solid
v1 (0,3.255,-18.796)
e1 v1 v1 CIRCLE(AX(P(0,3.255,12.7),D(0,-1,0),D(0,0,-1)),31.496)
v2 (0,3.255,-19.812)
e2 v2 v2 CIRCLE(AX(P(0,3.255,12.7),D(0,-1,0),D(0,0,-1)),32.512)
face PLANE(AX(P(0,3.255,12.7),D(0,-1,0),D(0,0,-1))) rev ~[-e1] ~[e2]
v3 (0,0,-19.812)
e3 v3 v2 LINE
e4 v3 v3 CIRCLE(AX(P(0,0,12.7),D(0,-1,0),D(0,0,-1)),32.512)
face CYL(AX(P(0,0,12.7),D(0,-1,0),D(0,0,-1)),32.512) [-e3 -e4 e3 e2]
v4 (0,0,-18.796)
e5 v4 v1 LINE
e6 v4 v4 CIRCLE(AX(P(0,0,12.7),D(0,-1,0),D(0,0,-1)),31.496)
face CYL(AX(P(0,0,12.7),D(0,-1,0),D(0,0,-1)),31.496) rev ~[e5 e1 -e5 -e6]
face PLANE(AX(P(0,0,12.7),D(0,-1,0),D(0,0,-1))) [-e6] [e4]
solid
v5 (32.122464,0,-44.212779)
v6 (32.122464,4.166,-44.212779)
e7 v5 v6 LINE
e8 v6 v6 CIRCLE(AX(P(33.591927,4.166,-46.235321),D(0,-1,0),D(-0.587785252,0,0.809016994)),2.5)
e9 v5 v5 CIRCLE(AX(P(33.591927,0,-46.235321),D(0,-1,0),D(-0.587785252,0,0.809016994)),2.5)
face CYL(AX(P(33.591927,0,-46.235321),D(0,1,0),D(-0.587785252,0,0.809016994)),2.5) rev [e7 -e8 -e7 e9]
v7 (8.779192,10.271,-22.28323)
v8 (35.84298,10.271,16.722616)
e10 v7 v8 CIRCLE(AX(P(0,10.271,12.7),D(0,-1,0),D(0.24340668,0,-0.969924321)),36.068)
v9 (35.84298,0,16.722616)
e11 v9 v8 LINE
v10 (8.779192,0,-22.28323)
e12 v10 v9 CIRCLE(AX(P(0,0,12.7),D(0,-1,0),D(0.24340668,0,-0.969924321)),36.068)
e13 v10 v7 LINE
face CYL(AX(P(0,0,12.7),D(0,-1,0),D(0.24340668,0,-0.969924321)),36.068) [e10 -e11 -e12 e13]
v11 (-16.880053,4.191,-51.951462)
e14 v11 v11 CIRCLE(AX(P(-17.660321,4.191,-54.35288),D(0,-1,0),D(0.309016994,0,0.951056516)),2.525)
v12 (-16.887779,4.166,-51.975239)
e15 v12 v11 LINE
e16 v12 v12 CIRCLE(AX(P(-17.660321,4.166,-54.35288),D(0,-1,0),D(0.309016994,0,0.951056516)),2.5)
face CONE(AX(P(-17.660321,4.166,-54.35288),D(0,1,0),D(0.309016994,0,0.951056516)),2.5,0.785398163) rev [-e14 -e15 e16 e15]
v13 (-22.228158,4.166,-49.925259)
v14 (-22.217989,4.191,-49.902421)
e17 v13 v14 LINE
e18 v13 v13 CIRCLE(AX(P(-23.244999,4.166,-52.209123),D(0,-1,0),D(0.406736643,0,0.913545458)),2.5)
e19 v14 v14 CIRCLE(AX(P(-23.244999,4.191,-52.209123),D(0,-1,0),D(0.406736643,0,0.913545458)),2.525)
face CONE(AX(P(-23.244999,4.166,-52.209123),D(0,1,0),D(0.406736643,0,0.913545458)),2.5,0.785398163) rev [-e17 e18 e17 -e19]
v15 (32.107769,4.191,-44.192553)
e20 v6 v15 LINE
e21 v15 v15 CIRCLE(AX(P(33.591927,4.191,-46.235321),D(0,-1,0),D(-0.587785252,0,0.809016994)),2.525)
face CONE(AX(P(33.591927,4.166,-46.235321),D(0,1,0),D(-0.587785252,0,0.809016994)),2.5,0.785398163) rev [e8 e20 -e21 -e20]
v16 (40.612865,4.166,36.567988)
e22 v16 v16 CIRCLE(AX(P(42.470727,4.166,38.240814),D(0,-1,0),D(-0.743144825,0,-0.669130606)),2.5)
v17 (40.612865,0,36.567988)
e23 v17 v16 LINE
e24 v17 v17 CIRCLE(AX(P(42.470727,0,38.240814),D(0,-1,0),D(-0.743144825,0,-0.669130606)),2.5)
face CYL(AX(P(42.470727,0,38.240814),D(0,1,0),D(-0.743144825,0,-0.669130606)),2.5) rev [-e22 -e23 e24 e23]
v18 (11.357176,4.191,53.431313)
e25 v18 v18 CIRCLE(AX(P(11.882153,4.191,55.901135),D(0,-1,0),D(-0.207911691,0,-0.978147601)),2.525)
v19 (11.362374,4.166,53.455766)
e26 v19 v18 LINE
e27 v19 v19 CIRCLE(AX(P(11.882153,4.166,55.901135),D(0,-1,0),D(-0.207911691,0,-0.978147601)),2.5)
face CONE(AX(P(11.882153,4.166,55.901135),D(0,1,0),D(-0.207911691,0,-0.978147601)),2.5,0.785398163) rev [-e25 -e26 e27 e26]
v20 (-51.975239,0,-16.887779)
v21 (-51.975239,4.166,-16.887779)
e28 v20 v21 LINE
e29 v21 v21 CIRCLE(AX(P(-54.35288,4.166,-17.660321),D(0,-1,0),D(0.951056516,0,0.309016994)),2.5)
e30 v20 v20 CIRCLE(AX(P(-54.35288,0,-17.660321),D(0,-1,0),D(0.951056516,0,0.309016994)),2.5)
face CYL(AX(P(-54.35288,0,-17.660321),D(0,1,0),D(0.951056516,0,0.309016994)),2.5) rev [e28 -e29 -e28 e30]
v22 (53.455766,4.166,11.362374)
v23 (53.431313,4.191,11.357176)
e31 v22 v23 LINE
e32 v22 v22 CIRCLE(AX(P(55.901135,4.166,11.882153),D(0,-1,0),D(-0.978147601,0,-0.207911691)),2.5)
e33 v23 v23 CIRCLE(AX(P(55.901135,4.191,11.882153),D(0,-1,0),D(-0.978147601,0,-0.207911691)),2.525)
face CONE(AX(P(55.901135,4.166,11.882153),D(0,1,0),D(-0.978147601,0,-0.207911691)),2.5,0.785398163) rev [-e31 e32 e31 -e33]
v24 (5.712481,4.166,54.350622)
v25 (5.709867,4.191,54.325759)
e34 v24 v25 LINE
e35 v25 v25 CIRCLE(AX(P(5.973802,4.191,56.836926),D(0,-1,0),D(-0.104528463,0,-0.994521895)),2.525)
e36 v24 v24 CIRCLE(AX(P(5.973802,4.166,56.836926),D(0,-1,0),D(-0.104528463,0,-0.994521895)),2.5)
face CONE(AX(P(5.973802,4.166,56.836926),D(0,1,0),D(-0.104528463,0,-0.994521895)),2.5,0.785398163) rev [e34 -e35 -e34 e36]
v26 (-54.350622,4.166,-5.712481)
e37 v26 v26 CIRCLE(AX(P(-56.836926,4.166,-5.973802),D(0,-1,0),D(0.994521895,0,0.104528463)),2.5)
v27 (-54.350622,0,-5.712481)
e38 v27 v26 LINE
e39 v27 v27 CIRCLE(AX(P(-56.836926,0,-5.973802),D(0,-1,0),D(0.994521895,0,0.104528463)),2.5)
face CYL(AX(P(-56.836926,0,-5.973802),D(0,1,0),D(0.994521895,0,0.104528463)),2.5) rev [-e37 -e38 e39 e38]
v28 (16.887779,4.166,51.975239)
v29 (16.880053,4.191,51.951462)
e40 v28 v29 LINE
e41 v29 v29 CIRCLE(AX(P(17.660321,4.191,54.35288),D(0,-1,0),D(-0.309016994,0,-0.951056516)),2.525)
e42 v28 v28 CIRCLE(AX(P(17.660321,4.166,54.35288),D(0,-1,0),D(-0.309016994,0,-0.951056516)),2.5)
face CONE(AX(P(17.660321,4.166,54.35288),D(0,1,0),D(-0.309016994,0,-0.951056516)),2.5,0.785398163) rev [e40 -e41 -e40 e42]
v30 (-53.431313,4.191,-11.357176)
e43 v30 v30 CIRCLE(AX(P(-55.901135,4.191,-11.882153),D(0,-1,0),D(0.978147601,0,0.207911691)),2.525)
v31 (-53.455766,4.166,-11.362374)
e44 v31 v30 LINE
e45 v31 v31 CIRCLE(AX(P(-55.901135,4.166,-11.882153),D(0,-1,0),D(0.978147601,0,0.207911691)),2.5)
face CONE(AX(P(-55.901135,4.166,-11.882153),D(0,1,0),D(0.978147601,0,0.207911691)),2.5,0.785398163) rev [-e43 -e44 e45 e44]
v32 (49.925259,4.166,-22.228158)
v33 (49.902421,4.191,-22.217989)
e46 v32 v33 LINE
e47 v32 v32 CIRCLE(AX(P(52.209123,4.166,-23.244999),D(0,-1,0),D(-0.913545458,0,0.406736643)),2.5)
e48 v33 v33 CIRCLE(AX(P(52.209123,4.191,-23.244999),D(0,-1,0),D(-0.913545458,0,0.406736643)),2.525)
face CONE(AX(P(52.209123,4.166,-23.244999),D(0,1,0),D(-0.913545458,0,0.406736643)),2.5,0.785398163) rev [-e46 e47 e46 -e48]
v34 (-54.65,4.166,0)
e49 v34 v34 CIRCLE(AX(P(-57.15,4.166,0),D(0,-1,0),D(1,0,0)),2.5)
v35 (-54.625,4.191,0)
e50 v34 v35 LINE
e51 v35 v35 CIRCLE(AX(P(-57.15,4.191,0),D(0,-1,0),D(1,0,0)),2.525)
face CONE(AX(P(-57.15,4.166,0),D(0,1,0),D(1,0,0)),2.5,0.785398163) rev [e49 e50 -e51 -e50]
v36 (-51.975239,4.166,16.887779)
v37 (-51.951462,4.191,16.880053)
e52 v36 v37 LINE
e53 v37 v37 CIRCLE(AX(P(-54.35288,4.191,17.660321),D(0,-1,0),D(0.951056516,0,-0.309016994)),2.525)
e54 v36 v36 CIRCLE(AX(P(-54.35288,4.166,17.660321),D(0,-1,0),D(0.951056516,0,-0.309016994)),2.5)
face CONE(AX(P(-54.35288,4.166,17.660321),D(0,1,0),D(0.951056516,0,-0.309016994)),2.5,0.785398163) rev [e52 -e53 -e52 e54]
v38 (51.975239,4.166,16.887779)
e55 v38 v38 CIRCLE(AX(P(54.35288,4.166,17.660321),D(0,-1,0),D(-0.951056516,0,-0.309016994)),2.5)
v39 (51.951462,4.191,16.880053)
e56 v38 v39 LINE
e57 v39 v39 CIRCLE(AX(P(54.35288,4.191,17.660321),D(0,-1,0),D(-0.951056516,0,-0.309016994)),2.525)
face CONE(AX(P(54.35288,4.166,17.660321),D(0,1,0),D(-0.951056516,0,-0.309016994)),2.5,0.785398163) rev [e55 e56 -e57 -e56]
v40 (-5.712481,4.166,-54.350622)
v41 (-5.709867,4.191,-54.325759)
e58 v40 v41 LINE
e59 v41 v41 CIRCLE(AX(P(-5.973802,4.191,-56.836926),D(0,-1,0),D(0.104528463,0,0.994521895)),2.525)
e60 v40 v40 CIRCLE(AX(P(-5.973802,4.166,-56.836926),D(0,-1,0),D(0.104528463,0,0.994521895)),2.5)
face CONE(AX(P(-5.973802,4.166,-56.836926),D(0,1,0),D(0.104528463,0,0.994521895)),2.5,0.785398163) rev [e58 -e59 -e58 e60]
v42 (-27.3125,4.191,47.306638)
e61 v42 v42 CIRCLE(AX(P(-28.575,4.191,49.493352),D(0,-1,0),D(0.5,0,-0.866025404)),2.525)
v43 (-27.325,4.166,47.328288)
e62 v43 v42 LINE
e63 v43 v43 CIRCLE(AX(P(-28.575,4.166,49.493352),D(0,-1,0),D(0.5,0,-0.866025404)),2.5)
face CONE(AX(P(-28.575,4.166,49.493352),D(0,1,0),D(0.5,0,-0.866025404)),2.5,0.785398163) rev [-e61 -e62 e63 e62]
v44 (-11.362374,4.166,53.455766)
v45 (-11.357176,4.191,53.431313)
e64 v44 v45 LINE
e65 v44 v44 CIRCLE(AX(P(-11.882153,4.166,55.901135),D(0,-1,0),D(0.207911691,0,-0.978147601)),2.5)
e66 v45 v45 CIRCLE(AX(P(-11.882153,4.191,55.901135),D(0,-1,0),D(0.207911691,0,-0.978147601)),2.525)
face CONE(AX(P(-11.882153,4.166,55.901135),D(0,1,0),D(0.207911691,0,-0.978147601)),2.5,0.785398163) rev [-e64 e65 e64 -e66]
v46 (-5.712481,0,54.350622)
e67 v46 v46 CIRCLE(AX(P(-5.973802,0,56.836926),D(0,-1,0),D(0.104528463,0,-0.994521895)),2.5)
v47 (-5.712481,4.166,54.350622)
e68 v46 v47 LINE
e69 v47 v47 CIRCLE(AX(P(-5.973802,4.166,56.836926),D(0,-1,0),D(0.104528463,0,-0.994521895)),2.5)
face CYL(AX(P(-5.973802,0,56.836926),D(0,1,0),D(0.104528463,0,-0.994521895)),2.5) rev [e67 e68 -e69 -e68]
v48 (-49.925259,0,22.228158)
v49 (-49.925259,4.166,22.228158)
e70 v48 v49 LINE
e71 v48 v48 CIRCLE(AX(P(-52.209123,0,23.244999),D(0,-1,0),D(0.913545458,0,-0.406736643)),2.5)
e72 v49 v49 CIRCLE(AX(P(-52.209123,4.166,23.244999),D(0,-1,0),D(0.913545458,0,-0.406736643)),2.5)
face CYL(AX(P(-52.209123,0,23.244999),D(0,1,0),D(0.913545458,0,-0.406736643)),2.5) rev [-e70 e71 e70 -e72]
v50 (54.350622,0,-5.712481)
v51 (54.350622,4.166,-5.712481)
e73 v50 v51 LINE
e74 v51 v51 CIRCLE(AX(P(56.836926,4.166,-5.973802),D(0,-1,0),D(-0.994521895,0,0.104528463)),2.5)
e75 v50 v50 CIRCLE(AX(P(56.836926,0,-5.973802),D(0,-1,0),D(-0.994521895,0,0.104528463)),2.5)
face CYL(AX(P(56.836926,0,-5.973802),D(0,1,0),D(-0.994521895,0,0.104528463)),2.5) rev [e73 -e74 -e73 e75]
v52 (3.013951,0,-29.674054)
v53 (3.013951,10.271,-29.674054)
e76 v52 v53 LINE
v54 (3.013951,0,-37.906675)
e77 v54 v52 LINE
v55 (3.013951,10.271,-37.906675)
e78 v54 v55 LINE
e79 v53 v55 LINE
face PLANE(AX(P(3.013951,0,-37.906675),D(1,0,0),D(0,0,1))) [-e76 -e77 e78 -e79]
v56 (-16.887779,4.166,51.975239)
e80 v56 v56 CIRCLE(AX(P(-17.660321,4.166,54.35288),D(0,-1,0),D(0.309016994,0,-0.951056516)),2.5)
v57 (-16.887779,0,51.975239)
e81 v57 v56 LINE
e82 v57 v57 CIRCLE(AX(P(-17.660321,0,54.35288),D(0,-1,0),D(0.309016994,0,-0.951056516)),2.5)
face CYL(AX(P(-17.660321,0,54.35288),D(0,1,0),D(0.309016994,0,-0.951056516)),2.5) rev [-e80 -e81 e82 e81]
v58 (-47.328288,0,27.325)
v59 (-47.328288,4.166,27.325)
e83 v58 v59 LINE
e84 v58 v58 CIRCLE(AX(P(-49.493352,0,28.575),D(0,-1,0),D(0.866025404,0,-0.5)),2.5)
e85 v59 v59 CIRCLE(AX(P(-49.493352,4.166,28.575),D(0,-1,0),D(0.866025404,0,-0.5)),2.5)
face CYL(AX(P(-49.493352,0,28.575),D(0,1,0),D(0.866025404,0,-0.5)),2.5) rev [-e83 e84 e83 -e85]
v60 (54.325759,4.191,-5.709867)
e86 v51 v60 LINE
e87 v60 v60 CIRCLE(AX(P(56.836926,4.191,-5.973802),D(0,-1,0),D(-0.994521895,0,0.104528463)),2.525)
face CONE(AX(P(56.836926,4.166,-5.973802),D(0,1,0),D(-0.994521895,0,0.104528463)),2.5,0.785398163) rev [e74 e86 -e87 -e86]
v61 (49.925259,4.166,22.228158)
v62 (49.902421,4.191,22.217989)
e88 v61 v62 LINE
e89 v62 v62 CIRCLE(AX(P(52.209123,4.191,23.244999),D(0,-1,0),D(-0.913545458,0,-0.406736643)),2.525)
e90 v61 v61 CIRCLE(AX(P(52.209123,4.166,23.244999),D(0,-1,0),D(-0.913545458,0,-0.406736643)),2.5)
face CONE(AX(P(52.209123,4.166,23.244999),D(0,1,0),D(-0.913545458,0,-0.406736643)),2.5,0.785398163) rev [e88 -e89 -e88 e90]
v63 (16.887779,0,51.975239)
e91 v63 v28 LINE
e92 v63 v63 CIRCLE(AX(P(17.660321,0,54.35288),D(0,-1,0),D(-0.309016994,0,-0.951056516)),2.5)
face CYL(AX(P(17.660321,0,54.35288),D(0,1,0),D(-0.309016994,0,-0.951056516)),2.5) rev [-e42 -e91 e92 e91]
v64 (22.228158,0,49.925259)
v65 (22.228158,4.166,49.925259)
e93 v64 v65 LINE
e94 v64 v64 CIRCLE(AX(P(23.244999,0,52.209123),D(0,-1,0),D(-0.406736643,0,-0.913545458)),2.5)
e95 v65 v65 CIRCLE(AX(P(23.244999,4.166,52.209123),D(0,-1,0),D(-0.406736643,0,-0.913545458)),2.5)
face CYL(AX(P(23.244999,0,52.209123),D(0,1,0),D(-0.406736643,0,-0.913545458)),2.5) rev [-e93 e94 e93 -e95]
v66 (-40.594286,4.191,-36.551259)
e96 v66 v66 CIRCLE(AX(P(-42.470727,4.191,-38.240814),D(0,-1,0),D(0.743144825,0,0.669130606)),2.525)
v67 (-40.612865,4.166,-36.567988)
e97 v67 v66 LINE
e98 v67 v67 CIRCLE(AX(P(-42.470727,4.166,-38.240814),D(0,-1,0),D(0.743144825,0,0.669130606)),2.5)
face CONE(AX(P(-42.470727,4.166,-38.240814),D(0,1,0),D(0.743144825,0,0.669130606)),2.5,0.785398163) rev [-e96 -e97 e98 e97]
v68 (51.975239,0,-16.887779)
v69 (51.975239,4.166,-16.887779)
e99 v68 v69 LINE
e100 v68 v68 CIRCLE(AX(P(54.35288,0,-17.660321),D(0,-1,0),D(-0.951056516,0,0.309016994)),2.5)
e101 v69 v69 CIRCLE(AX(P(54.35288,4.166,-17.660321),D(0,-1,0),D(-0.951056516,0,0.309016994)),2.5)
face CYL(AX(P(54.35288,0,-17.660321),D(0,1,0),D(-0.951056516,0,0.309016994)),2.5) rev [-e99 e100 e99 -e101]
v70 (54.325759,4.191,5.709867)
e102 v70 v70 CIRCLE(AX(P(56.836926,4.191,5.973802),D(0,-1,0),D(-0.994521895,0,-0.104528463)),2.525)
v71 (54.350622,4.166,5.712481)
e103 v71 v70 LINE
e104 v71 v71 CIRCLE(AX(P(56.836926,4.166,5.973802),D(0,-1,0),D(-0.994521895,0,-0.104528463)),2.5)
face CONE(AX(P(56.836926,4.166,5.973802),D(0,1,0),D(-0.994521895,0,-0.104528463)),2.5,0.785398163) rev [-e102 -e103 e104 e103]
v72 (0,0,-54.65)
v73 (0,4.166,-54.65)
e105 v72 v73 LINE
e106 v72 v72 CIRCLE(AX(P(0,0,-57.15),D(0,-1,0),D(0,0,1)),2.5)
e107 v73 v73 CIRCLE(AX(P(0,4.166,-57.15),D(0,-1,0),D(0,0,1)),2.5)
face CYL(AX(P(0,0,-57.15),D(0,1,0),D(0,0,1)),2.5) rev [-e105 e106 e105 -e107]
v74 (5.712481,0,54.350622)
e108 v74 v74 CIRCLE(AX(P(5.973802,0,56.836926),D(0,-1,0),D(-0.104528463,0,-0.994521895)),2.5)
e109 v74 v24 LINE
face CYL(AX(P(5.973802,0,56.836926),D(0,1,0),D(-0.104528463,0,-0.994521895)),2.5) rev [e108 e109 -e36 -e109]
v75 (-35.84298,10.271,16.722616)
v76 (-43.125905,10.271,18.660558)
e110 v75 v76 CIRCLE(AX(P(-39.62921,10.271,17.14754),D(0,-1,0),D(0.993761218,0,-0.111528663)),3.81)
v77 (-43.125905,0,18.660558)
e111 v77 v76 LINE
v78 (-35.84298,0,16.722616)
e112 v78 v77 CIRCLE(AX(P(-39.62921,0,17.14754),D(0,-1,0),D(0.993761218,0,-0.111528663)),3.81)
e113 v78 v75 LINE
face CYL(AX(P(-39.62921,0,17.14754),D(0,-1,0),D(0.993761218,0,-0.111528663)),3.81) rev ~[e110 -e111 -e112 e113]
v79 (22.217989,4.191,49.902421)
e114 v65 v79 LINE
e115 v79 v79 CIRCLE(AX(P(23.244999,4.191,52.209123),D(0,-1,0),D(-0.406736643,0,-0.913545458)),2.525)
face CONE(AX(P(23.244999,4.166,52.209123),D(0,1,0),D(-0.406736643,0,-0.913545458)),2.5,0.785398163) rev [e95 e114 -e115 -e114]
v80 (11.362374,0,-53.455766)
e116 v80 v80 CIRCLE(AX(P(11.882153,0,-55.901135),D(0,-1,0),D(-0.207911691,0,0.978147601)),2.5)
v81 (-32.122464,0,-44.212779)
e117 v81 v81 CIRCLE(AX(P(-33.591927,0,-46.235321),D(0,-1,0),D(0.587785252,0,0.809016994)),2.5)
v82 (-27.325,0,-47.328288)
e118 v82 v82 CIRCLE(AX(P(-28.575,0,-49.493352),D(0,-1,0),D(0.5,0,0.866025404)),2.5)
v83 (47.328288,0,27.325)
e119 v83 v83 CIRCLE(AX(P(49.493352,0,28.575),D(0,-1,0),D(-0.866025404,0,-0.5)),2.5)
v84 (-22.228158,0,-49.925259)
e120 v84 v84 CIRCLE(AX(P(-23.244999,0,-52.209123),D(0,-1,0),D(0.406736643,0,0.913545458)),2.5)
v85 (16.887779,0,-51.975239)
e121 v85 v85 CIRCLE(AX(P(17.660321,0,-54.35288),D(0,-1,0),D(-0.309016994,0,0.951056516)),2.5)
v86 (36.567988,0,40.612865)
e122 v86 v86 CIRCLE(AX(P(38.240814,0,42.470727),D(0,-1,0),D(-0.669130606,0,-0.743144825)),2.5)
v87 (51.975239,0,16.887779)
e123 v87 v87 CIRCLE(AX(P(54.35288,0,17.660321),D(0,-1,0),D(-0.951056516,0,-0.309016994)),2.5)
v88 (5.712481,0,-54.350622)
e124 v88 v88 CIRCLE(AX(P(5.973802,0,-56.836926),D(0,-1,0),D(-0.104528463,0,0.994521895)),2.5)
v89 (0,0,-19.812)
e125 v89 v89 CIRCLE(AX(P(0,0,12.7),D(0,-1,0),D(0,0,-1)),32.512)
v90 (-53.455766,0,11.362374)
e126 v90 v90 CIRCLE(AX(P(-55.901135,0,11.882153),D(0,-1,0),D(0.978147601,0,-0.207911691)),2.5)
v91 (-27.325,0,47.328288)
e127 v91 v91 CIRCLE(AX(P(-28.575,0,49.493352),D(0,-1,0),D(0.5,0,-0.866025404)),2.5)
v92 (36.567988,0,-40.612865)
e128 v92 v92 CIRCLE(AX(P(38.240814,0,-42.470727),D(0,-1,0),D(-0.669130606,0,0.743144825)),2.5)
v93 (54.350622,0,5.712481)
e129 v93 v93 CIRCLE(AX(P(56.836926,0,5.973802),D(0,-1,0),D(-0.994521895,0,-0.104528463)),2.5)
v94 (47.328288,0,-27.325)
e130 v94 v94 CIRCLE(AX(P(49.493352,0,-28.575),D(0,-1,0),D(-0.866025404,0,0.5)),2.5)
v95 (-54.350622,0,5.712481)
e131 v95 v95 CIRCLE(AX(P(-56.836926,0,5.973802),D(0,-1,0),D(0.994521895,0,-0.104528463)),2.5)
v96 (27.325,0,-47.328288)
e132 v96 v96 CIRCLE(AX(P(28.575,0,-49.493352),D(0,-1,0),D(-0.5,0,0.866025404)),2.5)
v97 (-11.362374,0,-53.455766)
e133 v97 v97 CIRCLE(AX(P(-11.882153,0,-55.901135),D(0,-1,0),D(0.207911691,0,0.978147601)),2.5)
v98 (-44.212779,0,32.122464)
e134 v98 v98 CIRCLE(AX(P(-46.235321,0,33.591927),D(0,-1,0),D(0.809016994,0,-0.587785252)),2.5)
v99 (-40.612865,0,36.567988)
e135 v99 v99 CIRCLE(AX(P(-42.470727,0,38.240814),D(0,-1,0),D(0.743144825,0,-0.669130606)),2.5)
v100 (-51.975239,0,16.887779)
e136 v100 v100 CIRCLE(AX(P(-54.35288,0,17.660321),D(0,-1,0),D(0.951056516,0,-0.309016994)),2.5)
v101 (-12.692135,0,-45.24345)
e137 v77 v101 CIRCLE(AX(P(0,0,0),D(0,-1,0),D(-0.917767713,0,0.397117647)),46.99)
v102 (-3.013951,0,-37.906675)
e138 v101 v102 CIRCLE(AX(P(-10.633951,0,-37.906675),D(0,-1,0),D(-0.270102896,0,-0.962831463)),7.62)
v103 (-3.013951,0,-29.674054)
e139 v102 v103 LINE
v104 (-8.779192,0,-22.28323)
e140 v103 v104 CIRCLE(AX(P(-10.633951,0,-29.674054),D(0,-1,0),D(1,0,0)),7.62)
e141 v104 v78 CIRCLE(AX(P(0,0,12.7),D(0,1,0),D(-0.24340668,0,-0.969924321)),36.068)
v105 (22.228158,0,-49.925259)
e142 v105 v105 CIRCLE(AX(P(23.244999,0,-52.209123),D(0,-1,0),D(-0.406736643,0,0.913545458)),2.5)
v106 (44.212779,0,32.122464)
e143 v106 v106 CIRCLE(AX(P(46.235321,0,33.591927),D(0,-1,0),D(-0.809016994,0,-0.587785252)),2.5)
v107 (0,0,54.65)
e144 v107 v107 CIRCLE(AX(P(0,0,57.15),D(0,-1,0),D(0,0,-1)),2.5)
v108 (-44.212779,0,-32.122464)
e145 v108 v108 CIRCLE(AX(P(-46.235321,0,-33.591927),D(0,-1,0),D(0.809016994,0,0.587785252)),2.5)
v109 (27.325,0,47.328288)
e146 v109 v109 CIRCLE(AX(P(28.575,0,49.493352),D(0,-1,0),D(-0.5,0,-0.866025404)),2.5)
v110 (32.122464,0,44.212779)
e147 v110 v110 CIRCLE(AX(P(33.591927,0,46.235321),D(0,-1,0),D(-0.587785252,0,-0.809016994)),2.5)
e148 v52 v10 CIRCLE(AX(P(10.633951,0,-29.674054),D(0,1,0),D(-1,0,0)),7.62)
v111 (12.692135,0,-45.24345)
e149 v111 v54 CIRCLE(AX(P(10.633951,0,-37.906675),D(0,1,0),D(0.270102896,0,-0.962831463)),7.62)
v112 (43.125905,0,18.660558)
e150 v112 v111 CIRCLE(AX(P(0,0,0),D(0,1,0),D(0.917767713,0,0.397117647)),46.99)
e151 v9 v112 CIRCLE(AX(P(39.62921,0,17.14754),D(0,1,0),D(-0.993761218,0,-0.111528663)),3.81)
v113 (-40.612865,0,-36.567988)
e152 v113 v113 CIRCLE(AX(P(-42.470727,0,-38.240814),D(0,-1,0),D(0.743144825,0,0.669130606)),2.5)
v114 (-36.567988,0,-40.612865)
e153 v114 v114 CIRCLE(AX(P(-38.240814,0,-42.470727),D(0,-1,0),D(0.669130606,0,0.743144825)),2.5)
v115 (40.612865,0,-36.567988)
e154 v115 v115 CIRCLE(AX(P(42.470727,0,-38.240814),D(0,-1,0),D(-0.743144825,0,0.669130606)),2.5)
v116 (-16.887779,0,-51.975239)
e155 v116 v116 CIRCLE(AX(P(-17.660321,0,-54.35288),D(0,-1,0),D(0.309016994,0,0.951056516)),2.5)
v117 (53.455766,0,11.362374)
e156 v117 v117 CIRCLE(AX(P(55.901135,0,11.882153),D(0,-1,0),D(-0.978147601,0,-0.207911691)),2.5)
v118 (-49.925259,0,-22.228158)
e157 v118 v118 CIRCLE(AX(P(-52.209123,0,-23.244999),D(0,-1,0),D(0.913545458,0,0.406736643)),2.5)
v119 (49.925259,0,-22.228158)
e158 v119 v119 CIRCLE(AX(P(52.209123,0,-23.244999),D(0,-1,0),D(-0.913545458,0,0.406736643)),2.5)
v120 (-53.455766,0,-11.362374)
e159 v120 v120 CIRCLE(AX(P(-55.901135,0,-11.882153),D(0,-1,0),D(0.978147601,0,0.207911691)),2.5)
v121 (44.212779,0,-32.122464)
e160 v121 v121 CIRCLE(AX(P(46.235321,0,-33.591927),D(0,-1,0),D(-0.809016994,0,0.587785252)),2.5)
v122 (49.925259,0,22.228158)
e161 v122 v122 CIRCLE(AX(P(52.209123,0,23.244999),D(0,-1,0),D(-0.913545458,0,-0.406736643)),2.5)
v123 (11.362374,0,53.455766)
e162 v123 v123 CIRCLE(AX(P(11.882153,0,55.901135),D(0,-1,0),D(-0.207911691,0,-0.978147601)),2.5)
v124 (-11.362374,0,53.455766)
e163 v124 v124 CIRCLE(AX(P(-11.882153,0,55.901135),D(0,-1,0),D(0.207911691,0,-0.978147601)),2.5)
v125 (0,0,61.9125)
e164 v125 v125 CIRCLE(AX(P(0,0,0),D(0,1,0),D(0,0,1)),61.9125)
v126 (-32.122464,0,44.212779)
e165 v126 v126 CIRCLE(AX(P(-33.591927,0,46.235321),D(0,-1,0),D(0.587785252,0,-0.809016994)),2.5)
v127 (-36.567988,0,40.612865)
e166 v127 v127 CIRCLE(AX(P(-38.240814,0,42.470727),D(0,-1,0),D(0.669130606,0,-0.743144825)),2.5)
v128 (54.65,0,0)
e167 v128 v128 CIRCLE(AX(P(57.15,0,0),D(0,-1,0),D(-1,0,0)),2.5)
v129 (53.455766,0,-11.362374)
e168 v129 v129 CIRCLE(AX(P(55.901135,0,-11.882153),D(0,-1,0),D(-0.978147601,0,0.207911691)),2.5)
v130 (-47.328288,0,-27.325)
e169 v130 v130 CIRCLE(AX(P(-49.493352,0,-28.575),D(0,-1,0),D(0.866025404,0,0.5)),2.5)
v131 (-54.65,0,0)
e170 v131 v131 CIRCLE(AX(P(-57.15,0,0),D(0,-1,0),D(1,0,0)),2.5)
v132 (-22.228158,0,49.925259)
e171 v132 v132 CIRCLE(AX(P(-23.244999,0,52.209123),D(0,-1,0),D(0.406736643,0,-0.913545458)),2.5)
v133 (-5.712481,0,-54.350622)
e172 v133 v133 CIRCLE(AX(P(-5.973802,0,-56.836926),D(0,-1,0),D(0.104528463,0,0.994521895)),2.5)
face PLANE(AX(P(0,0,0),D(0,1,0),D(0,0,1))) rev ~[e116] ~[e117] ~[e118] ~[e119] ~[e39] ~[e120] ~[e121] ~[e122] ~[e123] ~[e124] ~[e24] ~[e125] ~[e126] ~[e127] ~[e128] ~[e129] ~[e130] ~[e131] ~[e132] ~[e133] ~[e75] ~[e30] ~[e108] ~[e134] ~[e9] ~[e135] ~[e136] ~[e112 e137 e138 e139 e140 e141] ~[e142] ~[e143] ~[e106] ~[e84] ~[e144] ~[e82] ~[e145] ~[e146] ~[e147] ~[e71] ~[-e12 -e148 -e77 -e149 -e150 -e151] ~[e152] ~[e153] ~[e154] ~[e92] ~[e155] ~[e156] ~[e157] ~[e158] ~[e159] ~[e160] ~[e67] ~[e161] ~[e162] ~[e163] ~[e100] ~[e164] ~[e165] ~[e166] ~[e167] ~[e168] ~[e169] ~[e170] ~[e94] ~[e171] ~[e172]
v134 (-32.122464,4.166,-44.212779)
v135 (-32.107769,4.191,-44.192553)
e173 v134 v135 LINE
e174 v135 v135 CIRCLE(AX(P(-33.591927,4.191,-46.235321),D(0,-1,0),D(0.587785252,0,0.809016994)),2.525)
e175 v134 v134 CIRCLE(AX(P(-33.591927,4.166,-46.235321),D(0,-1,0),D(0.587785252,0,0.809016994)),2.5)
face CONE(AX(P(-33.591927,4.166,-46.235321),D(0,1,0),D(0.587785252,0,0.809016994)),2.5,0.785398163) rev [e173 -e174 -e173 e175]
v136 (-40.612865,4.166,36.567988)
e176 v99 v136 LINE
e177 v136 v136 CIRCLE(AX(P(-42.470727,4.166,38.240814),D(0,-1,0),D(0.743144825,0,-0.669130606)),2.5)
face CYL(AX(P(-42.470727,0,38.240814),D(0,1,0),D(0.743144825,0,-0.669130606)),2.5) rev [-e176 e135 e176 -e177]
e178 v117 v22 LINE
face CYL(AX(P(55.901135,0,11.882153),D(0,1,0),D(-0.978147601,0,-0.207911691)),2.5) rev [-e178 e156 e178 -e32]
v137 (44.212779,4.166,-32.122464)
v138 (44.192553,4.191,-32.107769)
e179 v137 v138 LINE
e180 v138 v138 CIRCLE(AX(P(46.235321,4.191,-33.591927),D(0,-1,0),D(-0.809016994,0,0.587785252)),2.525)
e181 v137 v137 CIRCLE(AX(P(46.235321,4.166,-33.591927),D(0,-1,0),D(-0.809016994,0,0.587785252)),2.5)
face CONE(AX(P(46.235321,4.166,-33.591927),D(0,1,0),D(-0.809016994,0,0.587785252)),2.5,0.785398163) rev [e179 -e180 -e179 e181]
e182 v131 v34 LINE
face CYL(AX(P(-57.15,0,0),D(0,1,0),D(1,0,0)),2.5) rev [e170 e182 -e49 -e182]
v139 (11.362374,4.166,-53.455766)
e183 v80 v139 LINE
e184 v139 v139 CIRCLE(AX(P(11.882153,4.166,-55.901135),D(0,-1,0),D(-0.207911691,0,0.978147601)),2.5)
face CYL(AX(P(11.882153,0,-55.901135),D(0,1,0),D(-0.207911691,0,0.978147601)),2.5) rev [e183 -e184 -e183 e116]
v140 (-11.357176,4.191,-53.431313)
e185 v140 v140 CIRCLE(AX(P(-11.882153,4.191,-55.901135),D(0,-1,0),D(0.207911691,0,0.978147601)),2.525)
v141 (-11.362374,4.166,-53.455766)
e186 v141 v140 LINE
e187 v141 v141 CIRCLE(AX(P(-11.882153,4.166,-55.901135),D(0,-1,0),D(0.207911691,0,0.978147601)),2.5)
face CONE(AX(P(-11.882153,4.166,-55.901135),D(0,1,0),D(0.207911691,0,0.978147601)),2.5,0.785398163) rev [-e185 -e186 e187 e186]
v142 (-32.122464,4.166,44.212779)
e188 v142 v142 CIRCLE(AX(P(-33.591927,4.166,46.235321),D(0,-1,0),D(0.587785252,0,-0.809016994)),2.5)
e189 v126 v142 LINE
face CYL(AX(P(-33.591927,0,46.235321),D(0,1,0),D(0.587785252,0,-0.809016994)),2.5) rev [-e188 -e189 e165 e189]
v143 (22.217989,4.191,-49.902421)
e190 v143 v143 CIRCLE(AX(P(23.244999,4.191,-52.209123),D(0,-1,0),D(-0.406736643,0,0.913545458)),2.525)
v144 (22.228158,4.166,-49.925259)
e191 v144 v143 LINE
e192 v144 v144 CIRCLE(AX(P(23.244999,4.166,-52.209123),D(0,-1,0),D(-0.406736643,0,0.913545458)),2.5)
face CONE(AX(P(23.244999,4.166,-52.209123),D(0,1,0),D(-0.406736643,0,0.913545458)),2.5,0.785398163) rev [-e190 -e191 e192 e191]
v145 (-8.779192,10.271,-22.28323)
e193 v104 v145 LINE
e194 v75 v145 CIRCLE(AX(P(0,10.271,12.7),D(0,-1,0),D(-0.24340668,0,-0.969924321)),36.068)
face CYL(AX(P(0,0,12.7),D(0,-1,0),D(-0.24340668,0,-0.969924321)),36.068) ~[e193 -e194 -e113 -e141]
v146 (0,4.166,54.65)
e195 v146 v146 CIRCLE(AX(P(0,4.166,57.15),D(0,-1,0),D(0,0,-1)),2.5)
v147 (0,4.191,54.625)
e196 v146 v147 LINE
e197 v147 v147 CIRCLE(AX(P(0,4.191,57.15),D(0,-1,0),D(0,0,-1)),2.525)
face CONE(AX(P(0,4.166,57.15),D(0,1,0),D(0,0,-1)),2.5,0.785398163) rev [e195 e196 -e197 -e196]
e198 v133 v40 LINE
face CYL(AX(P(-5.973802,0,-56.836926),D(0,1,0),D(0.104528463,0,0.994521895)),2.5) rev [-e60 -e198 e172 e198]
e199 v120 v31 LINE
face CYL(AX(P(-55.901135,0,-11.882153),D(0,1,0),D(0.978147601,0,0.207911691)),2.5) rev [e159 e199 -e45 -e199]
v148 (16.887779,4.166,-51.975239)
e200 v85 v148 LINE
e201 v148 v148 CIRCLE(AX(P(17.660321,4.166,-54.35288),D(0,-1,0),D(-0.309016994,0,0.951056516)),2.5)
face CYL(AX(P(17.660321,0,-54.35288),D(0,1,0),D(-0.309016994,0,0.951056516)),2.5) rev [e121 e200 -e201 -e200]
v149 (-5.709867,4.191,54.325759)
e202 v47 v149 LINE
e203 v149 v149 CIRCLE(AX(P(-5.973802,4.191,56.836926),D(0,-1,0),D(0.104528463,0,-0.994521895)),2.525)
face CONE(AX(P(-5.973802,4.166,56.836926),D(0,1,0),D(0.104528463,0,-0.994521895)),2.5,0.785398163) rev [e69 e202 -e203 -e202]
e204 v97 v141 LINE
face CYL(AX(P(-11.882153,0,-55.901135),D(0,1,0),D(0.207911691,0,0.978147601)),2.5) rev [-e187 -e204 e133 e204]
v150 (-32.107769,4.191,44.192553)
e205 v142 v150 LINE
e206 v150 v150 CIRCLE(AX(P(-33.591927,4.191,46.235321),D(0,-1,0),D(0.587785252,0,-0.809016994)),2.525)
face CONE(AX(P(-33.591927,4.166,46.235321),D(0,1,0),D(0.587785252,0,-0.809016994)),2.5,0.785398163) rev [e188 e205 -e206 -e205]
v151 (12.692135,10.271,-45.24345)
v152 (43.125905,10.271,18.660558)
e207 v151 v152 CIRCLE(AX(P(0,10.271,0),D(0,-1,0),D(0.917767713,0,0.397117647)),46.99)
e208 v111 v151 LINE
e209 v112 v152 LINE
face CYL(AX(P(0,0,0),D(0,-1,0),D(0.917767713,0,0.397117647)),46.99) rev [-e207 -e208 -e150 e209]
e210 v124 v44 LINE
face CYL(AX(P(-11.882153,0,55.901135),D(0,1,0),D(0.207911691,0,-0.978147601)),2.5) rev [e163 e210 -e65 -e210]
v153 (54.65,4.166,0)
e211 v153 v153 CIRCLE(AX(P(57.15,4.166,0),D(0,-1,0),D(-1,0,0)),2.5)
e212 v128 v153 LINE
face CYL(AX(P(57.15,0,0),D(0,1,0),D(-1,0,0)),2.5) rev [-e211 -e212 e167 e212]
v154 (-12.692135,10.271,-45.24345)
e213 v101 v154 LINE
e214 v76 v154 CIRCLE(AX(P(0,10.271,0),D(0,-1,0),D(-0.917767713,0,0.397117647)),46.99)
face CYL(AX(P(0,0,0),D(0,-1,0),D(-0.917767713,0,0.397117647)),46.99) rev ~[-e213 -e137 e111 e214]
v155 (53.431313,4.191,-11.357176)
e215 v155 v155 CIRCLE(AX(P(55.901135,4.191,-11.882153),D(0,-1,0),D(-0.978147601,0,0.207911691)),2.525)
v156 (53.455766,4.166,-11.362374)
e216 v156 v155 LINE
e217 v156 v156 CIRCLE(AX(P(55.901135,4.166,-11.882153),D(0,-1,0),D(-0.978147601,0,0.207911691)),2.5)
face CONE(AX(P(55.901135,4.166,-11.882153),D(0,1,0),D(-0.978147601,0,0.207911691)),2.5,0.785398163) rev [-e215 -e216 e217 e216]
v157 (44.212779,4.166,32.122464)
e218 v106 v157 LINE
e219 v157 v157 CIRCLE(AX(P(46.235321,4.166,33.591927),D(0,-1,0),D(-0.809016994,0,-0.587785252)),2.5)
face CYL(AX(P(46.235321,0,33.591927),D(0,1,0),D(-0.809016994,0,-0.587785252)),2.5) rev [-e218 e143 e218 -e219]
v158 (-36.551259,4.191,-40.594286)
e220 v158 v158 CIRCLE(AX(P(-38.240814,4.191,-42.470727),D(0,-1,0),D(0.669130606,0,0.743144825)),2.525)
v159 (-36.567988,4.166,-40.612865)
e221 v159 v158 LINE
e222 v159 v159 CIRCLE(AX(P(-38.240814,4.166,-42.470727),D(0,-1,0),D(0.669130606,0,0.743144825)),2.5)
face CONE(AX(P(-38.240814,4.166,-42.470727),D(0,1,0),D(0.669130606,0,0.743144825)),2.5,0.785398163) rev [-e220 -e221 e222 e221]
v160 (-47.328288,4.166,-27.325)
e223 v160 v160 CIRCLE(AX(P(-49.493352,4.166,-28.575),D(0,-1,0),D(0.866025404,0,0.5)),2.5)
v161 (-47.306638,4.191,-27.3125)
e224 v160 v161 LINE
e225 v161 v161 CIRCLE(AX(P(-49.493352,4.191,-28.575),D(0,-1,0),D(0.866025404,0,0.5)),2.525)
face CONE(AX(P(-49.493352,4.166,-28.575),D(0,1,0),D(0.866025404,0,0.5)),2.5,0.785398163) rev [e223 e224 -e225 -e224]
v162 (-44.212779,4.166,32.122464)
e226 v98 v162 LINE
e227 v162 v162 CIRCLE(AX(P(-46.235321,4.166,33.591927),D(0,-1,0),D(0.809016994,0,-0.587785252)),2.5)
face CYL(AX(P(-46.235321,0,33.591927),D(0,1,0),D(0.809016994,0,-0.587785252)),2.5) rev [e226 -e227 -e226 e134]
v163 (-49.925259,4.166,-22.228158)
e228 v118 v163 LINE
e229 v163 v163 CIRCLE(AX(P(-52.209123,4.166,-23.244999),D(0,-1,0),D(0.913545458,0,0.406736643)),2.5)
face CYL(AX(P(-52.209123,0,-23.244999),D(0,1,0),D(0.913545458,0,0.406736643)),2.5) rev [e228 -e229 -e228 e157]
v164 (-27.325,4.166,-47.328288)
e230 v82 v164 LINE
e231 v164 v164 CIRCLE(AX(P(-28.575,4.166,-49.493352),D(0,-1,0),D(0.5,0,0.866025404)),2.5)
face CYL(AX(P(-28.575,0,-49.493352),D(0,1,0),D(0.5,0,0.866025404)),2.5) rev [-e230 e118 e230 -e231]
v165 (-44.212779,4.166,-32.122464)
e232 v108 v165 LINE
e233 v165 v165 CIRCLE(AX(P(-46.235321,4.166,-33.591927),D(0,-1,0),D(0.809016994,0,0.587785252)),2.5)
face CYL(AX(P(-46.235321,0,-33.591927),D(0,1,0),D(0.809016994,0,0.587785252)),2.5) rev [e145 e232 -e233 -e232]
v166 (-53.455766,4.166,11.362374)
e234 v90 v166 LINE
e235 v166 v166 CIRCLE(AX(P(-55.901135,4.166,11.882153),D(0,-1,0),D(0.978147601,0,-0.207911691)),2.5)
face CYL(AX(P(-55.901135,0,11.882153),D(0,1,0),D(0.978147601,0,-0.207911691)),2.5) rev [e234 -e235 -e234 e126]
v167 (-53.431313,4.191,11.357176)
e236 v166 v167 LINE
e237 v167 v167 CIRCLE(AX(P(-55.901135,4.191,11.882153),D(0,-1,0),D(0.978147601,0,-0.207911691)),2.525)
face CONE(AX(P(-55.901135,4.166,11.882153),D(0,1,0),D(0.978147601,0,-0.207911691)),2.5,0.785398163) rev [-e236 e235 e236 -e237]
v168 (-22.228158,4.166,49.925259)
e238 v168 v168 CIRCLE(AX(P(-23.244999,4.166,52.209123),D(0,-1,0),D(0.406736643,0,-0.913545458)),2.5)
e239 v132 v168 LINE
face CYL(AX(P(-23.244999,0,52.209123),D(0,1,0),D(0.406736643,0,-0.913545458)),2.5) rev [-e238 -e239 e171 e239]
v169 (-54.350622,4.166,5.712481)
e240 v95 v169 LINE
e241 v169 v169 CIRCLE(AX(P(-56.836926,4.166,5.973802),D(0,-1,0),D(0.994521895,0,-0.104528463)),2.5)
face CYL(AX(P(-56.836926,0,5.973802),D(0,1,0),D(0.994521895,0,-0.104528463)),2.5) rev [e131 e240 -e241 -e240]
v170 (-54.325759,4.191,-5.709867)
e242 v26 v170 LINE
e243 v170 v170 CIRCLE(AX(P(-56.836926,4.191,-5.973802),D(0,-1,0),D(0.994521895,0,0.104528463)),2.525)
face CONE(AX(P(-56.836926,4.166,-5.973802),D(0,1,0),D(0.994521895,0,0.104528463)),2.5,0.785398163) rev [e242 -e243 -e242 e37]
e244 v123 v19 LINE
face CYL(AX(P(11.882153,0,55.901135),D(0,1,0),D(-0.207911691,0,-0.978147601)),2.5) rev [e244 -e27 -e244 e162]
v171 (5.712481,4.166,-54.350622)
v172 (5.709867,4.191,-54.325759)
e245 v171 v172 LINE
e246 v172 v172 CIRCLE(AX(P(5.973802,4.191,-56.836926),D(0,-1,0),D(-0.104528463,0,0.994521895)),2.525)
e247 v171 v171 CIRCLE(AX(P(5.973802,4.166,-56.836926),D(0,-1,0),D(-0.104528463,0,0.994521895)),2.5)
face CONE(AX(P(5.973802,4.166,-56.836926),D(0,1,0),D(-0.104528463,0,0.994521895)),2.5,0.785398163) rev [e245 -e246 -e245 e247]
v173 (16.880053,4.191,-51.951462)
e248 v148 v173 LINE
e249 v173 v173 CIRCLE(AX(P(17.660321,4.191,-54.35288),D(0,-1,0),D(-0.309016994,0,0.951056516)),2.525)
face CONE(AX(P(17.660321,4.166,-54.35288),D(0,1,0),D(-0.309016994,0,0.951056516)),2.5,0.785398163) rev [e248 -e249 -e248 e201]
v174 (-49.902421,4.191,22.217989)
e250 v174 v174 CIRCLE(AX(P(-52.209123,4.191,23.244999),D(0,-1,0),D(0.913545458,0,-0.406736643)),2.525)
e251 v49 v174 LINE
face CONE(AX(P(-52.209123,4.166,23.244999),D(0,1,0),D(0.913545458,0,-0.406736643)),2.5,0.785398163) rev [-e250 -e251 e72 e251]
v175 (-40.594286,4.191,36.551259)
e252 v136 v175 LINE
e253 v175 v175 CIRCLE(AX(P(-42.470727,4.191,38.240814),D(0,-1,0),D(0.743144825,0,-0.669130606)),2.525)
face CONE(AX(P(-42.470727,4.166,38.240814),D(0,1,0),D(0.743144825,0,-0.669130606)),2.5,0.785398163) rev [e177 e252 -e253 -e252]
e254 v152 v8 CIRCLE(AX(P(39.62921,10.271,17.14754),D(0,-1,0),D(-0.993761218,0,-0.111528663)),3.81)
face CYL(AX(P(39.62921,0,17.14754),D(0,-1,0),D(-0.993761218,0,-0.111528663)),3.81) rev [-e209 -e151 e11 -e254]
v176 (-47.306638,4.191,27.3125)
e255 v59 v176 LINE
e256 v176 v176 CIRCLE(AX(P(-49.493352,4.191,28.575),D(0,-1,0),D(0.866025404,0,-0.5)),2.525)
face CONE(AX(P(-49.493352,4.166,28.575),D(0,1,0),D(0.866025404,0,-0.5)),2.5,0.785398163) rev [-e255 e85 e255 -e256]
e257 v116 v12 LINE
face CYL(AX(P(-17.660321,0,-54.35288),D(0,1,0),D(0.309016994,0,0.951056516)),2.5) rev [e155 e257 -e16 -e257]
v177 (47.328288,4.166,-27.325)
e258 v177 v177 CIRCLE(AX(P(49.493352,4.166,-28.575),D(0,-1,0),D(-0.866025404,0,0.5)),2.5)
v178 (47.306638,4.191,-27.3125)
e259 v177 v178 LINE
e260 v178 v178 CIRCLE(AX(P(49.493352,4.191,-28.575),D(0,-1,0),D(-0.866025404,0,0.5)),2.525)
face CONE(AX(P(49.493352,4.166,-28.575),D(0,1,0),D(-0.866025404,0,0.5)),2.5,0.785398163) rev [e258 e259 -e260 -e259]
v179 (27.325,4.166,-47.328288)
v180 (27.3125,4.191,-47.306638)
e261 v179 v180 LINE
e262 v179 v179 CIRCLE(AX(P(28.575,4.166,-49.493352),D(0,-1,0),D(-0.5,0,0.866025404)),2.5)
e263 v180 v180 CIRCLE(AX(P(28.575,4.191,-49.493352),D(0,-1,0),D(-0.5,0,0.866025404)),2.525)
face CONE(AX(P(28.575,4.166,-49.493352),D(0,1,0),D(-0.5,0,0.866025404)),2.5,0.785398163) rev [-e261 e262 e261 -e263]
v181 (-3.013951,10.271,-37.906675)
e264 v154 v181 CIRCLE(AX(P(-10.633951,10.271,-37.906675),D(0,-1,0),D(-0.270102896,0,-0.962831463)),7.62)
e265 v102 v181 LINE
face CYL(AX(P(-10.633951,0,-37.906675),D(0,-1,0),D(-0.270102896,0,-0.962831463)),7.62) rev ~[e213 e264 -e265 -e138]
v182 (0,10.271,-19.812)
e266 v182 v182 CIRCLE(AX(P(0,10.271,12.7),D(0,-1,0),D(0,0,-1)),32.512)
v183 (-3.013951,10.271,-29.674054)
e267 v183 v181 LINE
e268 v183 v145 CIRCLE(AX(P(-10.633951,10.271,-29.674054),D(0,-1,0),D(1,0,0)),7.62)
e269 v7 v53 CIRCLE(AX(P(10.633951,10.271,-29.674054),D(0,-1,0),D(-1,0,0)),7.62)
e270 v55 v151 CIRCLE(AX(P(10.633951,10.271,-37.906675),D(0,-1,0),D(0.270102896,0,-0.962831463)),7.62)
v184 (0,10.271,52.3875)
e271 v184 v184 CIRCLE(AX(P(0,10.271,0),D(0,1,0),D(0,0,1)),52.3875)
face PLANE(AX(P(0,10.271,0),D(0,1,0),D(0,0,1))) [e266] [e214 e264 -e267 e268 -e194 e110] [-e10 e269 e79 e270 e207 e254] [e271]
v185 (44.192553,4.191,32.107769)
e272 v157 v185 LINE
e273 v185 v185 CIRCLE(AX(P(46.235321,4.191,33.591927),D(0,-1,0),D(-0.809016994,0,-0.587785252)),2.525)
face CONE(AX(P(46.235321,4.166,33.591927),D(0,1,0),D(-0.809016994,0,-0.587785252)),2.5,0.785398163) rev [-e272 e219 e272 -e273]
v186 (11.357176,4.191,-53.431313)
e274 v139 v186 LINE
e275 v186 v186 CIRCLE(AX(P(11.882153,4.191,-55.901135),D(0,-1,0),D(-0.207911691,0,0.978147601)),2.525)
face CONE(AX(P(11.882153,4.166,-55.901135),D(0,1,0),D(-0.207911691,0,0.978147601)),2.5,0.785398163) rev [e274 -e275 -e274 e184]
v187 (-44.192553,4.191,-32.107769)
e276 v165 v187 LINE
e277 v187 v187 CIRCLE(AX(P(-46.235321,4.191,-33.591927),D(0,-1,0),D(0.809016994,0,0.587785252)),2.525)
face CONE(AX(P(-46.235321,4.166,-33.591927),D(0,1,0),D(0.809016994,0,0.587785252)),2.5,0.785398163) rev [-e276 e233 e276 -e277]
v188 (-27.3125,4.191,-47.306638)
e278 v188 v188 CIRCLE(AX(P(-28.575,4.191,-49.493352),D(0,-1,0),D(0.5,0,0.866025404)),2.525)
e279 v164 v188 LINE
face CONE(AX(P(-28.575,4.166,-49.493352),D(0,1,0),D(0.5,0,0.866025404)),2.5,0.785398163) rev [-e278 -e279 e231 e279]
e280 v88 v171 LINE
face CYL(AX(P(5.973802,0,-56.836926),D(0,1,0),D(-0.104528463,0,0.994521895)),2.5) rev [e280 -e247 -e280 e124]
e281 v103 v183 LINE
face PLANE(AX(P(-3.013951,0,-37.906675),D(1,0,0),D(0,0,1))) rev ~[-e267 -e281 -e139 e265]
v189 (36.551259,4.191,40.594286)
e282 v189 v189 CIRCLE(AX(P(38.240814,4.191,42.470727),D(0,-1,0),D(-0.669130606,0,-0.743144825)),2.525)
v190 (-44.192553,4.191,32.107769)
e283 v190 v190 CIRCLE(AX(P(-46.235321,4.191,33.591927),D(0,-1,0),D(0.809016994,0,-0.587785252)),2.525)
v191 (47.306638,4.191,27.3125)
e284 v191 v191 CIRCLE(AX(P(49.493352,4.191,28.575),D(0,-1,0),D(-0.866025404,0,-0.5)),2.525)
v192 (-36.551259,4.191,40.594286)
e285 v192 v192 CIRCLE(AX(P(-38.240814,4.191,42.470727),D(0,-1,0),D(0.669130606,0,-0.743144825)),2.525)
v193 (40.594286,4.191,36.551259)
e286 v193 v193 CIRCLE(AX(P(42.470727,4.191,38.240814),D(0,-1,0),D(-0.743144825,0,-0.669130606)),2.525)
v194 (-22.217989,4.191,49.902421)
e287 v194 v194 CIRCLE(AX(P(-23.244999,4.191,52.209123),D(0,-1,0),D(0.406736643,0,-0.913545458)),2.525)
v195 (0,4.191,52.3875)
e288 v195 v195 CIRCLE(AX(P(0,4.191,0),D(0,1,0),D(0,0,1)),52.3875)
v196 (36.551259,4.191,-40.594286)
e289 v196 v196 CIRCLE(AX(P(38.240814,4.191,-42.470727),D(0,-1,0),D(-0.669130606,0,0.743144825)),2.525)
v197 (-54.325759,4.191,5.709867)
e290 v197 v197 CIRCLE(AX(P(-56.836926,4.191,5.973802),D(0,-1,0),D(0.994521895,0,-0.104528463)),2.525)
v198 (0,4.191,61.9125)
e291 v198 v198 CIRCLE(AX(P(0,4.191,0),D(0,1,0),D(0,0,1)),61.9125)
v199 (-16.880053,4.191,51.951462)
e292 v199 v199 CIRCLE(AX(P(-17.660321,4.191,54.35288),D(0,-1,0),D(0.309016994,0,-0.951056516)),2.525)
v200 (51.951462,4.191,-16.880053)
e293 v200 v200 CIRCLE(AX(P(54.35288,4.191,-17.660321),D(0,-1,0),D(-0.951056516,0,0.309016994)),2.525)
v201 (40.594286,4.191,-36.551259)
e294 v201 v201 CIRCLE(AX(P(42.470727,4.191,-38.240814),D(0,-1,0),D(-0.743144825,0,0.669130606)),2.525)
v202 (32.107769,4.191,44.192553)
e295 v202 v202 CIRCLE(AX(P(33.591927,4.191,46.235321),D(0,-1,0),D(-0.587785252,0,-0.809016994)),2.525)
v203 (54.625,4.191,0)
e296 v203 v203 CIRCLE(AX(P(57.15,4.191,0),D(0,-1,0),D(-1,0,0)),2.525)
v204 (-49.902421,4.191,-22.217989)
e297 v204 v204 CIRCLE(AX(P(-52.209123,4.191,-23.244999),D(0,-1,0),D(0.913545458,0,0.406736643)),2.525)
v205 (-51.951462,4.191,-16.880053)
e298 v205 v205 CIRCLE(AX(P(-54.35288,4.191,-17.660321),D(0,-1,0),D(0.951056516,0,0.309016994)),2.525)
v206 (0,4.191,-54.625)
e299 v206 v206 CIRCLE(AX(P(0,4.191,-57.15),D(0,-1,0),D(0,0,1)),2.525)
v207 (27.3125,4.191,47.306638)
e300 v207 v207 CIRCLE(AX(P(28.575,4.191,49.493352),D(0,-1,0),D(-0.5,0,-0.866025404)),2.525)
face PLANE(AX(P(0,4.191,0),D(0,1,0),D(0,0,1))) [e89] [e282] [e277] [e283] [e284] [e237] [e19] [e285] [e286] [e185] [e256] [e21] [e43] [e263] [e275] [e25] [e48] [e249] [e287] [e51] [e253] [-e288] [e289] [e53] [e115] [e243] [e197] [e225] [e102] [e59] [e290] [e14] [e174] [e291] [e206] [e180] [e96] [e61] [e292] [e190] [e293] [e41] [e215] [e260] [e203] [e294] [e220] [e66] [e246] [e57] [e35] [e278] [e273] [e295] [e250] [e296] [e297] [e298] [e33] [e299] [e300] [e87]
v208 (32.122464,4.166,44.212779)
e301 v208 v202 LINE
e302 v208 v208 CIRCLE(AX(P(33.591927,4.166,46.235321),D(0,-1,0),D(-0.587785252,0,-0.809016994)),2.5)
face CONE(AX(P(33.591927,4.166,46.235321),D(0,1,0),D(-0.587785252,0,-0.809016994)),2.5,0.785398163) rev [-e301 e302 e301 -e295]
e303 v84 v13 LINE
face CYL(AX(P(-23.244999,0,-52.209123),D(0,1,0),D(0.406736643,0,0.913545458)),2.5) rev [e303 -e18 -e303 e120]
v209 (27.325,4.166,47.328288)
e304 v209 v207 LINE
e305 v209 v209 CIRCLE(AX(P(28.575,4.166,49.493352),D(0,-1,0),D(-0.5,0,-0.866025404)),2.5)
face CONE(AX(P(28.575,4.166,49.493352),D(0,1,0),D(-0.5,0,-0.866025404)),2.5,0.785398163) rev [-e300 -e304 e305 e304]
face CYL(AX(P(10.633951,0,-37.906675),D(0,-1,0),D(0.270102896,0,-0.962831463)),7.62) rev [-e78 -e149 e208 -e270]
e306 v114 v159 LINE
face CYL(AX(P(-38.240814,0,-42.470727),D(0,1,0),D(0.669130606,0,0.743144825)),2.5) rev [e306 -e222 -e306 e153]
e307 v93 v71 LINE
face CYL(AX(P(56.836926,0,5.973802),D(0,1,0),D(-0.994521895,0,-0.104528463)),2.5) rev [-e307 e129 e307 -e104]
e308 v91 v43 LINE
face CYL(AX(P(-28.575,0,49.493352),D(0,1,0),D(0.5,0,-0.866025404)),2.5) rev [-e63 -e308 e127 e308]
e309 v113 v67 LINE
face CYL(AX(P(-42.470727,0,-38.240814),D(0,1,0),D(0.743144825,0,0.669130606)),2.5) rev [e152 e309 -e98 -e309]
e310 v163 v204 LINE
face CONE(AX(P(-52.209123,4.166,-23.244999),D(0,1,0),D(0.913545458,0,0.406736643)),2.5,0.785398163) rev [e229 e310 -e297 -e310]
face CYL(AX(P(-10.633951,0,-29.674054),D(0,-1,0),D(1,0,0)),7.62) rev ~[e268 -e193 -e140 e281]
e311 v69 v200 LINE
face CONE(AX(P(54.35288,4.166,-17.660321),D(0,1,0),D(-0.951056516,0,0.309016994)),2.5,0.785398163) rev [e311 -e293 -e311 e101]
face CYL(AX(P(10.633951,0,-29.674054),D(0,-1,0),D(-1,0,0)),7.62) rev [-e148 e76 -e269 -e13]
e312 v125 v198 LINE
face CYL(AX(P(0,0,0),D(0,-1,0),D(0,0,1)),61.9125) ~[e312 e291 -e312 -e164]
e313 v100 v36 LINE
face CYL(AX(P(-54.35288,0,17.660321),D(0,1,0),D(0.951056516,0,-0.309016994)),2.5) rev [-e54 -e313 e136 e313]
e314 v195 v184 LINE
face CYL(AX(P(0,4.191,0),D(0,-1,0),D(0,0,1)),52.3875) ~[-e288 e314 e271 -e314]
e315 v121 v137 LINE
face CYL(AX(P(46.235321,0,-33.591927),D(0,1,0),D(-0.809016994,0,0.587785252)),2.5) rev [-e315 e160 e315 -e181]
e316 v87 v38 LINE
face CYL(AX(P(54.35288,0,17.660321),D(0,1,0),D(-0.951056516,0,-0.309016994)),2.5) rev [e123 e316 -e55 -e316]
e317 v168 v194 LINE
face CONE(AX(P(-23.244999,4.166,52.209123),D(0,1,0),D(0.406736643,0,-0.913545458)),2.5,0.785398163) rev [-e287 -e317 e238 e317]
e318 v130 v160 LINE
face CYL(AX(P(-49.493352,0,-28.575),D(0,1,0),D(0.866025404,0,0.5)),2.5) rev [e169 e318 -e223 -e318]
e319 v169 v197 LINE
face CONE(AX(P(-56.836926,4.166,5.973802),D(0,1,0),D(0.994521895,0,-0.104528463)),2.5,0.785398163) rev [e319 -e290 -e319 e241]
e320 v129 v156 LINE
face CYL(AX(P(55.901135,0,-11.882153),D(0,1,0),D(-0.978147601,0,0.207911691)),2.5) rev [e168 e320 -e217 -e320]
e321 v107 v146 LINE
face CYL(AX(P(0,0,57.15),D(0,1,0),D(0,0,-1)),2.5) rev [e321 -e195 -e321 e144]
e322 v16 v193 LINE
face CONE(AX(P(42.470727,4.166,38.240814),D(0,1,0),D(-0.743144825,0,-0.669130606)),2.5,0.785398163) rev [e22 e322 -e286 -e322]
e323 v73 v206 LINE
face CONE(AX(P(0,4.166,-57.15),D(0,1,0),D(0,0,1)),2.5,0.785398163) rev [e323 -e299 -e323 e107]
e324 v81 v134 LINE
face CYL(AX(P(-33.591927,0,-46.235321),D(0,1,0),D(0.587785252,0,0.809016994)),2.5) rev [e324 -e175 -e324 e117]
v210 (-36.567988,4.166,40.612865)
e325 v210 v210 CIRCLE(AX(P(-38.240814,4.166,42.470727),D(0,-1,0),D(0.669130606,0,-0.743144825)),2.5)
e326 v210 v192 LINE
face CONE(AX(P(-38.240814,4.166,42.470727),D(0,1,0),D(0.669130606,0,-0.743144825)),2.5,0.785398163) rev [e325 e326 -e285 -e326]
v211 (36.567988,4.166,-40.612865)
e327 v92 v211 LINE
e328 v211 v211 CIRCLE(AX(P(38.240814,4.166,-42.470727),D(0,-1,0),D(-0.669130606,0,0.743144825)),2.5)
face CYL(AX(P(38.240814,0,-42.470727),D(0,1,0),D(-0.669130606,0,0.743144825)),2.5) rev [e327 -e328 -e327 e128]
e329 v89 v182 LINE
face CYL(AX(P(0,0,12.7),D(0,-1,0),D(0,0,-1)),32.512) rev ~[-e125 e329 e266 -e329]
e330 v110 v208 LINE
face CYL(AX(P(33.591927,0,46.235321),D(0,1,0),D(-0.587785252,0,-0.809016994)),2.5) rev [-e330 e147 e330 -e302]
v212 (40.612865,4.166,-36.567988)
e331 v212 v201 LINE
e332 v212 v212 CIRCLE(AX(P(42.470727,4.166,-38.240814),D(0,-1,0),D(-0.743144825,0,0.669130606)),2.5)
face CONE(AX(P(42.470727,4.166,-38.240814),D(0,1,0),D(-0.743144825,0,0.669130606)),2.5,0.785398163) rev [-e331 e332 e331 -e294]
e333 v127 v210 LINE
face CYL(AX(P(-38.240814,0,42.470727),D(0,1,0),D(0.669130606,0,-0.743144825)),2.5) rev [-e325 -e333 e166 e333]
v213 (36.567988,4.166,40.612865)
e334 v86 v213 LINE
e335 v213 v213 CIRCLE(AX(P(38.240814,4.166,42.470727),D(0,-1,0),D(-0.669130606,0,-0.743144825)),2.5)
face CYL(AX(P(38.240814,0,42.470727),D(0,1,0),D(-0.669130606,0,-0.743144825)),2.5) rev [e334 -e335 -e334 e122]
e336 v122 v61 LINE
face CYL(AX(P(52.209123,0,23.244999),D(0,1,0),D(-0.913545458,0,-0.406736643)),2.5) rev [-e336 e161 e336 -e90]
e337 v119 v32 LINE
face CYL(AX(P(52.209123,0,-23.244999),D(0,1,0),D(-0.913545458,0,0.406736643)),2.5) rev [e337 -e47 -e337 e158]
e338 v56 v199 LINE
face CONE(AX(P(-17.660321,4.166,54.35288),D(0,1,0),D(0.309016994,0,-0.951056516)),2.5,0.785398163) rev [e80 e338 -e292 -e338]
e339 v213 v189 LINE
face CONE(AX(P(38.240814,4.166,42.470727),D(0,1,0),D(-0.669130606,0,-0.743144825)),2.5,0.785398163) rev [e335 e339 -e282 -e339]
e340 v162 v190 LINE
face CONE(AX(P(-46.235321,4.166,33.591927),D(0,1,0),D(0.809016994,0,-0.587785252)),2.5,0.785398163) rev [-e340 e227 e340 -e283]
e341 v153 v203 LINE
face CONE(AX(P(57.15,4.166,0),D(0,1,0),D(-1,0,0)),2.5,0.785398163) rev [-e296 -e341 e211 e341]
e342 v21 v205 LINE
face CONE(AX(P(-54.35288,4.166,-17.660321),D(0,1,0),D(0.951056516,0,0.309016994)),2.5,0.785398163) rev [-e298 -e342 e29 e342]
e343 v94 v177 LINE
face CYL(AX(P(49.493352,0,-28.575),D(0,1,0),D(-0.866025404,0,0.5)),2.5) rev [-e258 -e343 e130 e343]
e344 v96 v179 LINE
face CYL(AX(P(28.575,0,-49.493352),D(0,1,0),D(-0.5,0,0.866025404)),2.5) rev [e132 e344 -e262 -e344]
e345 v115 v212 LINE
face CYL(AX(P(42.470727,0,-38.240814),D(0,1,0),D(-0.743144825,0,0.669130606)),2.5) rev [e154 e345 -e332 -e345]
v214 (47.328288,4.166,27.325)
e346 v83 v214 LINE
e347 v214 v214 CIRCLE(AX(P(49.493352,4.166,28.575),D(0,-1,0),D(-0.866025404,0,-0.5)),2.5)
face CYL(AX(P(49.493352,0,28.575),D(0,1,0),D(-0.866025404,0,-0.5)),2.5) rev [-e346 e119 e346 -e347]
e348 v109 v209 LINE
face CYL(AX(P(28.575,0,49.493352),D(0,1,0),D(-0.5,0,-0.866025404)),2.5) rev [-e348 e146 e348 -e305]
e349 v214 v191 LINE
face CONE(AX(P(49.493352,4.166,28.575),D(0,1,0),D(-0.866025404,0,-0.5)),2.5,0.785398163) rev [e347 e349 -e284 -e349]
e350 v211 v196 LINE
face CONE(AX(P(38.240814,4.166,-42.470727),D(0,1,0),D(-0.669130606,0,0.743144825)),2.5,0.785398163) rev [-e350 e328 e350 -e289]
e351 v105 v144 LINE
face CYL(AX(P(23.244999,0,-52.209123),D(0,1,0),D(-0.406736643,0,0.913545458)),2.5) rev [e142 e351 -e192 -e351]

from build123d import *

# Parameters (mm, degrees)
SKETCH1_R                  = 61.9125
SKETCH1_R_2                = 30.988
SLOTTED_BODY_EXTRUDE_DEPTH = 4.191
SKETCH5_R                  = 52.3875
BOSS_EXTRUDE3_DEPTH        = 6.080000032
SKETCH6_R                  = 32.512
CUT_EXTRUDE5_DEPTH         = 89.157862691
SKETCH8_R                  = 32.512
SKETCH8_R_2                = 31.496
BOSS_EXTRUDE4_DEPTH        = 3.255000094
CIRPATTERN1_COUNT          = 60


with BuildPart() as part:
    # Sketch1 → Slotted-Body Extrude (new body)
    with BuildSketch(Plane(origin=(0, 0, 0), x_dir=(1, 0, 0), z_dir=(0, 1, 0))):
        with Locations(Location((0, 0, 0), (0, 0, 270))):
            Circle(SKETCH1_R)
        with Locations(Location((0, -12.7, 0), (0, 0, 270))):
            Circle(SKETCH1_R_2, mode=Mode.SUBTRACT)
    extrude(amount=SLOTTED_BODY_EXTRUDE_DEPTH)

    # Sketch5 → Boss-Extrude3 (add)
    with BuildSketch(Plane(origin=(0, 4.191, 0), x_dir=(1, 0, 0), z_dir=(0, 1, 0))):
        with Locations(Location((0, 0, 0), (0, 0, 270))):
            Circle(SKETCH5_R)
    extrude(amount=BOSS_EXTRUDE3_DEPTH)

    # Sketch6 → Cut-Extrude5 (cut, through all)
    with BuildSketch(Plane.XZ):
        with Locations(Location((0, 12.7, 0), (0, 0, 270))):
            Circle(SKETCH6_R)
        with BuildLine():
            Line((3.013951015, -37.906674687), (3.013951015, -29.674053734))
            ThreePointArc((3.013951015, -29.674053734), (4.62572071, -24.987309811), (8.779192117, -22.283230408))
            ThreePointArc((8.779192117, -22.283230408), (29.633571529, -7.860935349), (35.842979594, 16.722615796))
            ThreePointArc((35.842979594, 16.722615796), (38.649483906, 20.829419562), (43.125904818, 18.660558235))
            ThreePointArc((43.125904818, 18.660558235), (42.424568065, -20.204359046), (12.692135082, -45.243450433))
            ThreePointArc((12.692135082, -45.243450433), (6.03063496, -43.979061474), (3.013951015, -37.906674687))
        make_face()
        with BuildLine():
            Line((-3.013951015, -37.906674687), (-3.013951015, -29.674053734))
            ThreePointArc((-3.013951015, -29.674053734), (-4.62572071, -24.987309811), (-8.779192117, -22.283230408))
            ThreePointArc((-8.779192117, -22.283230408), (-29.633571529, -7.860935349), (-35.842979594, 16.722615796))
            ThreePointArc((-35.842979594, 16.722615796), (-38.649483906, 20.829419562), (-43.125904818, 18.660558235))
            ThreePointArc((-43.125904818, 18.660558235), (-42.424568065, -20.204359046), (-12.692135082, -45.243450433))
            ThreePointArc((-12.692135082, -45.243450433), (-6.03063496, -43.979061474), (-3.013951015, -37.906674687))
        make_face()
    extrude(amount=-CUT_EXTRUDE5_DEPTH, mode=Mode.SUBTRACT)

    # Sketch10 → Ø5.0mm Dowel Hole1 (revolve, cut)
    with BuildSketch(Plane(origin=(0, 4.191, -57.15), x_dir=(0, 0, 1), z_dir=(1, 0, 0))):
        Polygon((0, 0), (0, 4.191), (2.5, 4.191), (2.5, 0.025), (2.525, 0), align=None)
    f_5_0mm_dowel_hole1 = revolve(axis=Axis((0, 10.541, -57.15), (0, -1, 0)), mode=Mode.SUBTRACT)

    # CirPattern1: Ø5.0mm Dowel Hole1 ×60 about axis
    cirpattern1_axis = Axis((0, 0, 0), (0, 1, 0))
    for i in range(1, CIRPATTERN1_COUNT):
        add(f_5_0mm_dowel_hole1.rotate(cirpattern1_axis, i * 360 / CIRPATTERN1_COUNT), mode=Mode.SUBTRACT)


with BuildPart() as body_2:
    # Sketch8 → Boss-Extrude4 (new body)
    with BuildSketch(Plane.XZ):
        with Locations(Location((0, 12.7, 0), (0, 0, 270))):
            Circle(SKETCH8_R)
        with Locations(Location((0, 12.7, 0), (0, 0, 270))):
            Circle(SKETCH8_R_2, mode=Mode.SUBTRACT)
    extrude(amount=-BOSS_EXTRUDE4_DEPTH)


solid = Compound([part.part, body_2.part])
